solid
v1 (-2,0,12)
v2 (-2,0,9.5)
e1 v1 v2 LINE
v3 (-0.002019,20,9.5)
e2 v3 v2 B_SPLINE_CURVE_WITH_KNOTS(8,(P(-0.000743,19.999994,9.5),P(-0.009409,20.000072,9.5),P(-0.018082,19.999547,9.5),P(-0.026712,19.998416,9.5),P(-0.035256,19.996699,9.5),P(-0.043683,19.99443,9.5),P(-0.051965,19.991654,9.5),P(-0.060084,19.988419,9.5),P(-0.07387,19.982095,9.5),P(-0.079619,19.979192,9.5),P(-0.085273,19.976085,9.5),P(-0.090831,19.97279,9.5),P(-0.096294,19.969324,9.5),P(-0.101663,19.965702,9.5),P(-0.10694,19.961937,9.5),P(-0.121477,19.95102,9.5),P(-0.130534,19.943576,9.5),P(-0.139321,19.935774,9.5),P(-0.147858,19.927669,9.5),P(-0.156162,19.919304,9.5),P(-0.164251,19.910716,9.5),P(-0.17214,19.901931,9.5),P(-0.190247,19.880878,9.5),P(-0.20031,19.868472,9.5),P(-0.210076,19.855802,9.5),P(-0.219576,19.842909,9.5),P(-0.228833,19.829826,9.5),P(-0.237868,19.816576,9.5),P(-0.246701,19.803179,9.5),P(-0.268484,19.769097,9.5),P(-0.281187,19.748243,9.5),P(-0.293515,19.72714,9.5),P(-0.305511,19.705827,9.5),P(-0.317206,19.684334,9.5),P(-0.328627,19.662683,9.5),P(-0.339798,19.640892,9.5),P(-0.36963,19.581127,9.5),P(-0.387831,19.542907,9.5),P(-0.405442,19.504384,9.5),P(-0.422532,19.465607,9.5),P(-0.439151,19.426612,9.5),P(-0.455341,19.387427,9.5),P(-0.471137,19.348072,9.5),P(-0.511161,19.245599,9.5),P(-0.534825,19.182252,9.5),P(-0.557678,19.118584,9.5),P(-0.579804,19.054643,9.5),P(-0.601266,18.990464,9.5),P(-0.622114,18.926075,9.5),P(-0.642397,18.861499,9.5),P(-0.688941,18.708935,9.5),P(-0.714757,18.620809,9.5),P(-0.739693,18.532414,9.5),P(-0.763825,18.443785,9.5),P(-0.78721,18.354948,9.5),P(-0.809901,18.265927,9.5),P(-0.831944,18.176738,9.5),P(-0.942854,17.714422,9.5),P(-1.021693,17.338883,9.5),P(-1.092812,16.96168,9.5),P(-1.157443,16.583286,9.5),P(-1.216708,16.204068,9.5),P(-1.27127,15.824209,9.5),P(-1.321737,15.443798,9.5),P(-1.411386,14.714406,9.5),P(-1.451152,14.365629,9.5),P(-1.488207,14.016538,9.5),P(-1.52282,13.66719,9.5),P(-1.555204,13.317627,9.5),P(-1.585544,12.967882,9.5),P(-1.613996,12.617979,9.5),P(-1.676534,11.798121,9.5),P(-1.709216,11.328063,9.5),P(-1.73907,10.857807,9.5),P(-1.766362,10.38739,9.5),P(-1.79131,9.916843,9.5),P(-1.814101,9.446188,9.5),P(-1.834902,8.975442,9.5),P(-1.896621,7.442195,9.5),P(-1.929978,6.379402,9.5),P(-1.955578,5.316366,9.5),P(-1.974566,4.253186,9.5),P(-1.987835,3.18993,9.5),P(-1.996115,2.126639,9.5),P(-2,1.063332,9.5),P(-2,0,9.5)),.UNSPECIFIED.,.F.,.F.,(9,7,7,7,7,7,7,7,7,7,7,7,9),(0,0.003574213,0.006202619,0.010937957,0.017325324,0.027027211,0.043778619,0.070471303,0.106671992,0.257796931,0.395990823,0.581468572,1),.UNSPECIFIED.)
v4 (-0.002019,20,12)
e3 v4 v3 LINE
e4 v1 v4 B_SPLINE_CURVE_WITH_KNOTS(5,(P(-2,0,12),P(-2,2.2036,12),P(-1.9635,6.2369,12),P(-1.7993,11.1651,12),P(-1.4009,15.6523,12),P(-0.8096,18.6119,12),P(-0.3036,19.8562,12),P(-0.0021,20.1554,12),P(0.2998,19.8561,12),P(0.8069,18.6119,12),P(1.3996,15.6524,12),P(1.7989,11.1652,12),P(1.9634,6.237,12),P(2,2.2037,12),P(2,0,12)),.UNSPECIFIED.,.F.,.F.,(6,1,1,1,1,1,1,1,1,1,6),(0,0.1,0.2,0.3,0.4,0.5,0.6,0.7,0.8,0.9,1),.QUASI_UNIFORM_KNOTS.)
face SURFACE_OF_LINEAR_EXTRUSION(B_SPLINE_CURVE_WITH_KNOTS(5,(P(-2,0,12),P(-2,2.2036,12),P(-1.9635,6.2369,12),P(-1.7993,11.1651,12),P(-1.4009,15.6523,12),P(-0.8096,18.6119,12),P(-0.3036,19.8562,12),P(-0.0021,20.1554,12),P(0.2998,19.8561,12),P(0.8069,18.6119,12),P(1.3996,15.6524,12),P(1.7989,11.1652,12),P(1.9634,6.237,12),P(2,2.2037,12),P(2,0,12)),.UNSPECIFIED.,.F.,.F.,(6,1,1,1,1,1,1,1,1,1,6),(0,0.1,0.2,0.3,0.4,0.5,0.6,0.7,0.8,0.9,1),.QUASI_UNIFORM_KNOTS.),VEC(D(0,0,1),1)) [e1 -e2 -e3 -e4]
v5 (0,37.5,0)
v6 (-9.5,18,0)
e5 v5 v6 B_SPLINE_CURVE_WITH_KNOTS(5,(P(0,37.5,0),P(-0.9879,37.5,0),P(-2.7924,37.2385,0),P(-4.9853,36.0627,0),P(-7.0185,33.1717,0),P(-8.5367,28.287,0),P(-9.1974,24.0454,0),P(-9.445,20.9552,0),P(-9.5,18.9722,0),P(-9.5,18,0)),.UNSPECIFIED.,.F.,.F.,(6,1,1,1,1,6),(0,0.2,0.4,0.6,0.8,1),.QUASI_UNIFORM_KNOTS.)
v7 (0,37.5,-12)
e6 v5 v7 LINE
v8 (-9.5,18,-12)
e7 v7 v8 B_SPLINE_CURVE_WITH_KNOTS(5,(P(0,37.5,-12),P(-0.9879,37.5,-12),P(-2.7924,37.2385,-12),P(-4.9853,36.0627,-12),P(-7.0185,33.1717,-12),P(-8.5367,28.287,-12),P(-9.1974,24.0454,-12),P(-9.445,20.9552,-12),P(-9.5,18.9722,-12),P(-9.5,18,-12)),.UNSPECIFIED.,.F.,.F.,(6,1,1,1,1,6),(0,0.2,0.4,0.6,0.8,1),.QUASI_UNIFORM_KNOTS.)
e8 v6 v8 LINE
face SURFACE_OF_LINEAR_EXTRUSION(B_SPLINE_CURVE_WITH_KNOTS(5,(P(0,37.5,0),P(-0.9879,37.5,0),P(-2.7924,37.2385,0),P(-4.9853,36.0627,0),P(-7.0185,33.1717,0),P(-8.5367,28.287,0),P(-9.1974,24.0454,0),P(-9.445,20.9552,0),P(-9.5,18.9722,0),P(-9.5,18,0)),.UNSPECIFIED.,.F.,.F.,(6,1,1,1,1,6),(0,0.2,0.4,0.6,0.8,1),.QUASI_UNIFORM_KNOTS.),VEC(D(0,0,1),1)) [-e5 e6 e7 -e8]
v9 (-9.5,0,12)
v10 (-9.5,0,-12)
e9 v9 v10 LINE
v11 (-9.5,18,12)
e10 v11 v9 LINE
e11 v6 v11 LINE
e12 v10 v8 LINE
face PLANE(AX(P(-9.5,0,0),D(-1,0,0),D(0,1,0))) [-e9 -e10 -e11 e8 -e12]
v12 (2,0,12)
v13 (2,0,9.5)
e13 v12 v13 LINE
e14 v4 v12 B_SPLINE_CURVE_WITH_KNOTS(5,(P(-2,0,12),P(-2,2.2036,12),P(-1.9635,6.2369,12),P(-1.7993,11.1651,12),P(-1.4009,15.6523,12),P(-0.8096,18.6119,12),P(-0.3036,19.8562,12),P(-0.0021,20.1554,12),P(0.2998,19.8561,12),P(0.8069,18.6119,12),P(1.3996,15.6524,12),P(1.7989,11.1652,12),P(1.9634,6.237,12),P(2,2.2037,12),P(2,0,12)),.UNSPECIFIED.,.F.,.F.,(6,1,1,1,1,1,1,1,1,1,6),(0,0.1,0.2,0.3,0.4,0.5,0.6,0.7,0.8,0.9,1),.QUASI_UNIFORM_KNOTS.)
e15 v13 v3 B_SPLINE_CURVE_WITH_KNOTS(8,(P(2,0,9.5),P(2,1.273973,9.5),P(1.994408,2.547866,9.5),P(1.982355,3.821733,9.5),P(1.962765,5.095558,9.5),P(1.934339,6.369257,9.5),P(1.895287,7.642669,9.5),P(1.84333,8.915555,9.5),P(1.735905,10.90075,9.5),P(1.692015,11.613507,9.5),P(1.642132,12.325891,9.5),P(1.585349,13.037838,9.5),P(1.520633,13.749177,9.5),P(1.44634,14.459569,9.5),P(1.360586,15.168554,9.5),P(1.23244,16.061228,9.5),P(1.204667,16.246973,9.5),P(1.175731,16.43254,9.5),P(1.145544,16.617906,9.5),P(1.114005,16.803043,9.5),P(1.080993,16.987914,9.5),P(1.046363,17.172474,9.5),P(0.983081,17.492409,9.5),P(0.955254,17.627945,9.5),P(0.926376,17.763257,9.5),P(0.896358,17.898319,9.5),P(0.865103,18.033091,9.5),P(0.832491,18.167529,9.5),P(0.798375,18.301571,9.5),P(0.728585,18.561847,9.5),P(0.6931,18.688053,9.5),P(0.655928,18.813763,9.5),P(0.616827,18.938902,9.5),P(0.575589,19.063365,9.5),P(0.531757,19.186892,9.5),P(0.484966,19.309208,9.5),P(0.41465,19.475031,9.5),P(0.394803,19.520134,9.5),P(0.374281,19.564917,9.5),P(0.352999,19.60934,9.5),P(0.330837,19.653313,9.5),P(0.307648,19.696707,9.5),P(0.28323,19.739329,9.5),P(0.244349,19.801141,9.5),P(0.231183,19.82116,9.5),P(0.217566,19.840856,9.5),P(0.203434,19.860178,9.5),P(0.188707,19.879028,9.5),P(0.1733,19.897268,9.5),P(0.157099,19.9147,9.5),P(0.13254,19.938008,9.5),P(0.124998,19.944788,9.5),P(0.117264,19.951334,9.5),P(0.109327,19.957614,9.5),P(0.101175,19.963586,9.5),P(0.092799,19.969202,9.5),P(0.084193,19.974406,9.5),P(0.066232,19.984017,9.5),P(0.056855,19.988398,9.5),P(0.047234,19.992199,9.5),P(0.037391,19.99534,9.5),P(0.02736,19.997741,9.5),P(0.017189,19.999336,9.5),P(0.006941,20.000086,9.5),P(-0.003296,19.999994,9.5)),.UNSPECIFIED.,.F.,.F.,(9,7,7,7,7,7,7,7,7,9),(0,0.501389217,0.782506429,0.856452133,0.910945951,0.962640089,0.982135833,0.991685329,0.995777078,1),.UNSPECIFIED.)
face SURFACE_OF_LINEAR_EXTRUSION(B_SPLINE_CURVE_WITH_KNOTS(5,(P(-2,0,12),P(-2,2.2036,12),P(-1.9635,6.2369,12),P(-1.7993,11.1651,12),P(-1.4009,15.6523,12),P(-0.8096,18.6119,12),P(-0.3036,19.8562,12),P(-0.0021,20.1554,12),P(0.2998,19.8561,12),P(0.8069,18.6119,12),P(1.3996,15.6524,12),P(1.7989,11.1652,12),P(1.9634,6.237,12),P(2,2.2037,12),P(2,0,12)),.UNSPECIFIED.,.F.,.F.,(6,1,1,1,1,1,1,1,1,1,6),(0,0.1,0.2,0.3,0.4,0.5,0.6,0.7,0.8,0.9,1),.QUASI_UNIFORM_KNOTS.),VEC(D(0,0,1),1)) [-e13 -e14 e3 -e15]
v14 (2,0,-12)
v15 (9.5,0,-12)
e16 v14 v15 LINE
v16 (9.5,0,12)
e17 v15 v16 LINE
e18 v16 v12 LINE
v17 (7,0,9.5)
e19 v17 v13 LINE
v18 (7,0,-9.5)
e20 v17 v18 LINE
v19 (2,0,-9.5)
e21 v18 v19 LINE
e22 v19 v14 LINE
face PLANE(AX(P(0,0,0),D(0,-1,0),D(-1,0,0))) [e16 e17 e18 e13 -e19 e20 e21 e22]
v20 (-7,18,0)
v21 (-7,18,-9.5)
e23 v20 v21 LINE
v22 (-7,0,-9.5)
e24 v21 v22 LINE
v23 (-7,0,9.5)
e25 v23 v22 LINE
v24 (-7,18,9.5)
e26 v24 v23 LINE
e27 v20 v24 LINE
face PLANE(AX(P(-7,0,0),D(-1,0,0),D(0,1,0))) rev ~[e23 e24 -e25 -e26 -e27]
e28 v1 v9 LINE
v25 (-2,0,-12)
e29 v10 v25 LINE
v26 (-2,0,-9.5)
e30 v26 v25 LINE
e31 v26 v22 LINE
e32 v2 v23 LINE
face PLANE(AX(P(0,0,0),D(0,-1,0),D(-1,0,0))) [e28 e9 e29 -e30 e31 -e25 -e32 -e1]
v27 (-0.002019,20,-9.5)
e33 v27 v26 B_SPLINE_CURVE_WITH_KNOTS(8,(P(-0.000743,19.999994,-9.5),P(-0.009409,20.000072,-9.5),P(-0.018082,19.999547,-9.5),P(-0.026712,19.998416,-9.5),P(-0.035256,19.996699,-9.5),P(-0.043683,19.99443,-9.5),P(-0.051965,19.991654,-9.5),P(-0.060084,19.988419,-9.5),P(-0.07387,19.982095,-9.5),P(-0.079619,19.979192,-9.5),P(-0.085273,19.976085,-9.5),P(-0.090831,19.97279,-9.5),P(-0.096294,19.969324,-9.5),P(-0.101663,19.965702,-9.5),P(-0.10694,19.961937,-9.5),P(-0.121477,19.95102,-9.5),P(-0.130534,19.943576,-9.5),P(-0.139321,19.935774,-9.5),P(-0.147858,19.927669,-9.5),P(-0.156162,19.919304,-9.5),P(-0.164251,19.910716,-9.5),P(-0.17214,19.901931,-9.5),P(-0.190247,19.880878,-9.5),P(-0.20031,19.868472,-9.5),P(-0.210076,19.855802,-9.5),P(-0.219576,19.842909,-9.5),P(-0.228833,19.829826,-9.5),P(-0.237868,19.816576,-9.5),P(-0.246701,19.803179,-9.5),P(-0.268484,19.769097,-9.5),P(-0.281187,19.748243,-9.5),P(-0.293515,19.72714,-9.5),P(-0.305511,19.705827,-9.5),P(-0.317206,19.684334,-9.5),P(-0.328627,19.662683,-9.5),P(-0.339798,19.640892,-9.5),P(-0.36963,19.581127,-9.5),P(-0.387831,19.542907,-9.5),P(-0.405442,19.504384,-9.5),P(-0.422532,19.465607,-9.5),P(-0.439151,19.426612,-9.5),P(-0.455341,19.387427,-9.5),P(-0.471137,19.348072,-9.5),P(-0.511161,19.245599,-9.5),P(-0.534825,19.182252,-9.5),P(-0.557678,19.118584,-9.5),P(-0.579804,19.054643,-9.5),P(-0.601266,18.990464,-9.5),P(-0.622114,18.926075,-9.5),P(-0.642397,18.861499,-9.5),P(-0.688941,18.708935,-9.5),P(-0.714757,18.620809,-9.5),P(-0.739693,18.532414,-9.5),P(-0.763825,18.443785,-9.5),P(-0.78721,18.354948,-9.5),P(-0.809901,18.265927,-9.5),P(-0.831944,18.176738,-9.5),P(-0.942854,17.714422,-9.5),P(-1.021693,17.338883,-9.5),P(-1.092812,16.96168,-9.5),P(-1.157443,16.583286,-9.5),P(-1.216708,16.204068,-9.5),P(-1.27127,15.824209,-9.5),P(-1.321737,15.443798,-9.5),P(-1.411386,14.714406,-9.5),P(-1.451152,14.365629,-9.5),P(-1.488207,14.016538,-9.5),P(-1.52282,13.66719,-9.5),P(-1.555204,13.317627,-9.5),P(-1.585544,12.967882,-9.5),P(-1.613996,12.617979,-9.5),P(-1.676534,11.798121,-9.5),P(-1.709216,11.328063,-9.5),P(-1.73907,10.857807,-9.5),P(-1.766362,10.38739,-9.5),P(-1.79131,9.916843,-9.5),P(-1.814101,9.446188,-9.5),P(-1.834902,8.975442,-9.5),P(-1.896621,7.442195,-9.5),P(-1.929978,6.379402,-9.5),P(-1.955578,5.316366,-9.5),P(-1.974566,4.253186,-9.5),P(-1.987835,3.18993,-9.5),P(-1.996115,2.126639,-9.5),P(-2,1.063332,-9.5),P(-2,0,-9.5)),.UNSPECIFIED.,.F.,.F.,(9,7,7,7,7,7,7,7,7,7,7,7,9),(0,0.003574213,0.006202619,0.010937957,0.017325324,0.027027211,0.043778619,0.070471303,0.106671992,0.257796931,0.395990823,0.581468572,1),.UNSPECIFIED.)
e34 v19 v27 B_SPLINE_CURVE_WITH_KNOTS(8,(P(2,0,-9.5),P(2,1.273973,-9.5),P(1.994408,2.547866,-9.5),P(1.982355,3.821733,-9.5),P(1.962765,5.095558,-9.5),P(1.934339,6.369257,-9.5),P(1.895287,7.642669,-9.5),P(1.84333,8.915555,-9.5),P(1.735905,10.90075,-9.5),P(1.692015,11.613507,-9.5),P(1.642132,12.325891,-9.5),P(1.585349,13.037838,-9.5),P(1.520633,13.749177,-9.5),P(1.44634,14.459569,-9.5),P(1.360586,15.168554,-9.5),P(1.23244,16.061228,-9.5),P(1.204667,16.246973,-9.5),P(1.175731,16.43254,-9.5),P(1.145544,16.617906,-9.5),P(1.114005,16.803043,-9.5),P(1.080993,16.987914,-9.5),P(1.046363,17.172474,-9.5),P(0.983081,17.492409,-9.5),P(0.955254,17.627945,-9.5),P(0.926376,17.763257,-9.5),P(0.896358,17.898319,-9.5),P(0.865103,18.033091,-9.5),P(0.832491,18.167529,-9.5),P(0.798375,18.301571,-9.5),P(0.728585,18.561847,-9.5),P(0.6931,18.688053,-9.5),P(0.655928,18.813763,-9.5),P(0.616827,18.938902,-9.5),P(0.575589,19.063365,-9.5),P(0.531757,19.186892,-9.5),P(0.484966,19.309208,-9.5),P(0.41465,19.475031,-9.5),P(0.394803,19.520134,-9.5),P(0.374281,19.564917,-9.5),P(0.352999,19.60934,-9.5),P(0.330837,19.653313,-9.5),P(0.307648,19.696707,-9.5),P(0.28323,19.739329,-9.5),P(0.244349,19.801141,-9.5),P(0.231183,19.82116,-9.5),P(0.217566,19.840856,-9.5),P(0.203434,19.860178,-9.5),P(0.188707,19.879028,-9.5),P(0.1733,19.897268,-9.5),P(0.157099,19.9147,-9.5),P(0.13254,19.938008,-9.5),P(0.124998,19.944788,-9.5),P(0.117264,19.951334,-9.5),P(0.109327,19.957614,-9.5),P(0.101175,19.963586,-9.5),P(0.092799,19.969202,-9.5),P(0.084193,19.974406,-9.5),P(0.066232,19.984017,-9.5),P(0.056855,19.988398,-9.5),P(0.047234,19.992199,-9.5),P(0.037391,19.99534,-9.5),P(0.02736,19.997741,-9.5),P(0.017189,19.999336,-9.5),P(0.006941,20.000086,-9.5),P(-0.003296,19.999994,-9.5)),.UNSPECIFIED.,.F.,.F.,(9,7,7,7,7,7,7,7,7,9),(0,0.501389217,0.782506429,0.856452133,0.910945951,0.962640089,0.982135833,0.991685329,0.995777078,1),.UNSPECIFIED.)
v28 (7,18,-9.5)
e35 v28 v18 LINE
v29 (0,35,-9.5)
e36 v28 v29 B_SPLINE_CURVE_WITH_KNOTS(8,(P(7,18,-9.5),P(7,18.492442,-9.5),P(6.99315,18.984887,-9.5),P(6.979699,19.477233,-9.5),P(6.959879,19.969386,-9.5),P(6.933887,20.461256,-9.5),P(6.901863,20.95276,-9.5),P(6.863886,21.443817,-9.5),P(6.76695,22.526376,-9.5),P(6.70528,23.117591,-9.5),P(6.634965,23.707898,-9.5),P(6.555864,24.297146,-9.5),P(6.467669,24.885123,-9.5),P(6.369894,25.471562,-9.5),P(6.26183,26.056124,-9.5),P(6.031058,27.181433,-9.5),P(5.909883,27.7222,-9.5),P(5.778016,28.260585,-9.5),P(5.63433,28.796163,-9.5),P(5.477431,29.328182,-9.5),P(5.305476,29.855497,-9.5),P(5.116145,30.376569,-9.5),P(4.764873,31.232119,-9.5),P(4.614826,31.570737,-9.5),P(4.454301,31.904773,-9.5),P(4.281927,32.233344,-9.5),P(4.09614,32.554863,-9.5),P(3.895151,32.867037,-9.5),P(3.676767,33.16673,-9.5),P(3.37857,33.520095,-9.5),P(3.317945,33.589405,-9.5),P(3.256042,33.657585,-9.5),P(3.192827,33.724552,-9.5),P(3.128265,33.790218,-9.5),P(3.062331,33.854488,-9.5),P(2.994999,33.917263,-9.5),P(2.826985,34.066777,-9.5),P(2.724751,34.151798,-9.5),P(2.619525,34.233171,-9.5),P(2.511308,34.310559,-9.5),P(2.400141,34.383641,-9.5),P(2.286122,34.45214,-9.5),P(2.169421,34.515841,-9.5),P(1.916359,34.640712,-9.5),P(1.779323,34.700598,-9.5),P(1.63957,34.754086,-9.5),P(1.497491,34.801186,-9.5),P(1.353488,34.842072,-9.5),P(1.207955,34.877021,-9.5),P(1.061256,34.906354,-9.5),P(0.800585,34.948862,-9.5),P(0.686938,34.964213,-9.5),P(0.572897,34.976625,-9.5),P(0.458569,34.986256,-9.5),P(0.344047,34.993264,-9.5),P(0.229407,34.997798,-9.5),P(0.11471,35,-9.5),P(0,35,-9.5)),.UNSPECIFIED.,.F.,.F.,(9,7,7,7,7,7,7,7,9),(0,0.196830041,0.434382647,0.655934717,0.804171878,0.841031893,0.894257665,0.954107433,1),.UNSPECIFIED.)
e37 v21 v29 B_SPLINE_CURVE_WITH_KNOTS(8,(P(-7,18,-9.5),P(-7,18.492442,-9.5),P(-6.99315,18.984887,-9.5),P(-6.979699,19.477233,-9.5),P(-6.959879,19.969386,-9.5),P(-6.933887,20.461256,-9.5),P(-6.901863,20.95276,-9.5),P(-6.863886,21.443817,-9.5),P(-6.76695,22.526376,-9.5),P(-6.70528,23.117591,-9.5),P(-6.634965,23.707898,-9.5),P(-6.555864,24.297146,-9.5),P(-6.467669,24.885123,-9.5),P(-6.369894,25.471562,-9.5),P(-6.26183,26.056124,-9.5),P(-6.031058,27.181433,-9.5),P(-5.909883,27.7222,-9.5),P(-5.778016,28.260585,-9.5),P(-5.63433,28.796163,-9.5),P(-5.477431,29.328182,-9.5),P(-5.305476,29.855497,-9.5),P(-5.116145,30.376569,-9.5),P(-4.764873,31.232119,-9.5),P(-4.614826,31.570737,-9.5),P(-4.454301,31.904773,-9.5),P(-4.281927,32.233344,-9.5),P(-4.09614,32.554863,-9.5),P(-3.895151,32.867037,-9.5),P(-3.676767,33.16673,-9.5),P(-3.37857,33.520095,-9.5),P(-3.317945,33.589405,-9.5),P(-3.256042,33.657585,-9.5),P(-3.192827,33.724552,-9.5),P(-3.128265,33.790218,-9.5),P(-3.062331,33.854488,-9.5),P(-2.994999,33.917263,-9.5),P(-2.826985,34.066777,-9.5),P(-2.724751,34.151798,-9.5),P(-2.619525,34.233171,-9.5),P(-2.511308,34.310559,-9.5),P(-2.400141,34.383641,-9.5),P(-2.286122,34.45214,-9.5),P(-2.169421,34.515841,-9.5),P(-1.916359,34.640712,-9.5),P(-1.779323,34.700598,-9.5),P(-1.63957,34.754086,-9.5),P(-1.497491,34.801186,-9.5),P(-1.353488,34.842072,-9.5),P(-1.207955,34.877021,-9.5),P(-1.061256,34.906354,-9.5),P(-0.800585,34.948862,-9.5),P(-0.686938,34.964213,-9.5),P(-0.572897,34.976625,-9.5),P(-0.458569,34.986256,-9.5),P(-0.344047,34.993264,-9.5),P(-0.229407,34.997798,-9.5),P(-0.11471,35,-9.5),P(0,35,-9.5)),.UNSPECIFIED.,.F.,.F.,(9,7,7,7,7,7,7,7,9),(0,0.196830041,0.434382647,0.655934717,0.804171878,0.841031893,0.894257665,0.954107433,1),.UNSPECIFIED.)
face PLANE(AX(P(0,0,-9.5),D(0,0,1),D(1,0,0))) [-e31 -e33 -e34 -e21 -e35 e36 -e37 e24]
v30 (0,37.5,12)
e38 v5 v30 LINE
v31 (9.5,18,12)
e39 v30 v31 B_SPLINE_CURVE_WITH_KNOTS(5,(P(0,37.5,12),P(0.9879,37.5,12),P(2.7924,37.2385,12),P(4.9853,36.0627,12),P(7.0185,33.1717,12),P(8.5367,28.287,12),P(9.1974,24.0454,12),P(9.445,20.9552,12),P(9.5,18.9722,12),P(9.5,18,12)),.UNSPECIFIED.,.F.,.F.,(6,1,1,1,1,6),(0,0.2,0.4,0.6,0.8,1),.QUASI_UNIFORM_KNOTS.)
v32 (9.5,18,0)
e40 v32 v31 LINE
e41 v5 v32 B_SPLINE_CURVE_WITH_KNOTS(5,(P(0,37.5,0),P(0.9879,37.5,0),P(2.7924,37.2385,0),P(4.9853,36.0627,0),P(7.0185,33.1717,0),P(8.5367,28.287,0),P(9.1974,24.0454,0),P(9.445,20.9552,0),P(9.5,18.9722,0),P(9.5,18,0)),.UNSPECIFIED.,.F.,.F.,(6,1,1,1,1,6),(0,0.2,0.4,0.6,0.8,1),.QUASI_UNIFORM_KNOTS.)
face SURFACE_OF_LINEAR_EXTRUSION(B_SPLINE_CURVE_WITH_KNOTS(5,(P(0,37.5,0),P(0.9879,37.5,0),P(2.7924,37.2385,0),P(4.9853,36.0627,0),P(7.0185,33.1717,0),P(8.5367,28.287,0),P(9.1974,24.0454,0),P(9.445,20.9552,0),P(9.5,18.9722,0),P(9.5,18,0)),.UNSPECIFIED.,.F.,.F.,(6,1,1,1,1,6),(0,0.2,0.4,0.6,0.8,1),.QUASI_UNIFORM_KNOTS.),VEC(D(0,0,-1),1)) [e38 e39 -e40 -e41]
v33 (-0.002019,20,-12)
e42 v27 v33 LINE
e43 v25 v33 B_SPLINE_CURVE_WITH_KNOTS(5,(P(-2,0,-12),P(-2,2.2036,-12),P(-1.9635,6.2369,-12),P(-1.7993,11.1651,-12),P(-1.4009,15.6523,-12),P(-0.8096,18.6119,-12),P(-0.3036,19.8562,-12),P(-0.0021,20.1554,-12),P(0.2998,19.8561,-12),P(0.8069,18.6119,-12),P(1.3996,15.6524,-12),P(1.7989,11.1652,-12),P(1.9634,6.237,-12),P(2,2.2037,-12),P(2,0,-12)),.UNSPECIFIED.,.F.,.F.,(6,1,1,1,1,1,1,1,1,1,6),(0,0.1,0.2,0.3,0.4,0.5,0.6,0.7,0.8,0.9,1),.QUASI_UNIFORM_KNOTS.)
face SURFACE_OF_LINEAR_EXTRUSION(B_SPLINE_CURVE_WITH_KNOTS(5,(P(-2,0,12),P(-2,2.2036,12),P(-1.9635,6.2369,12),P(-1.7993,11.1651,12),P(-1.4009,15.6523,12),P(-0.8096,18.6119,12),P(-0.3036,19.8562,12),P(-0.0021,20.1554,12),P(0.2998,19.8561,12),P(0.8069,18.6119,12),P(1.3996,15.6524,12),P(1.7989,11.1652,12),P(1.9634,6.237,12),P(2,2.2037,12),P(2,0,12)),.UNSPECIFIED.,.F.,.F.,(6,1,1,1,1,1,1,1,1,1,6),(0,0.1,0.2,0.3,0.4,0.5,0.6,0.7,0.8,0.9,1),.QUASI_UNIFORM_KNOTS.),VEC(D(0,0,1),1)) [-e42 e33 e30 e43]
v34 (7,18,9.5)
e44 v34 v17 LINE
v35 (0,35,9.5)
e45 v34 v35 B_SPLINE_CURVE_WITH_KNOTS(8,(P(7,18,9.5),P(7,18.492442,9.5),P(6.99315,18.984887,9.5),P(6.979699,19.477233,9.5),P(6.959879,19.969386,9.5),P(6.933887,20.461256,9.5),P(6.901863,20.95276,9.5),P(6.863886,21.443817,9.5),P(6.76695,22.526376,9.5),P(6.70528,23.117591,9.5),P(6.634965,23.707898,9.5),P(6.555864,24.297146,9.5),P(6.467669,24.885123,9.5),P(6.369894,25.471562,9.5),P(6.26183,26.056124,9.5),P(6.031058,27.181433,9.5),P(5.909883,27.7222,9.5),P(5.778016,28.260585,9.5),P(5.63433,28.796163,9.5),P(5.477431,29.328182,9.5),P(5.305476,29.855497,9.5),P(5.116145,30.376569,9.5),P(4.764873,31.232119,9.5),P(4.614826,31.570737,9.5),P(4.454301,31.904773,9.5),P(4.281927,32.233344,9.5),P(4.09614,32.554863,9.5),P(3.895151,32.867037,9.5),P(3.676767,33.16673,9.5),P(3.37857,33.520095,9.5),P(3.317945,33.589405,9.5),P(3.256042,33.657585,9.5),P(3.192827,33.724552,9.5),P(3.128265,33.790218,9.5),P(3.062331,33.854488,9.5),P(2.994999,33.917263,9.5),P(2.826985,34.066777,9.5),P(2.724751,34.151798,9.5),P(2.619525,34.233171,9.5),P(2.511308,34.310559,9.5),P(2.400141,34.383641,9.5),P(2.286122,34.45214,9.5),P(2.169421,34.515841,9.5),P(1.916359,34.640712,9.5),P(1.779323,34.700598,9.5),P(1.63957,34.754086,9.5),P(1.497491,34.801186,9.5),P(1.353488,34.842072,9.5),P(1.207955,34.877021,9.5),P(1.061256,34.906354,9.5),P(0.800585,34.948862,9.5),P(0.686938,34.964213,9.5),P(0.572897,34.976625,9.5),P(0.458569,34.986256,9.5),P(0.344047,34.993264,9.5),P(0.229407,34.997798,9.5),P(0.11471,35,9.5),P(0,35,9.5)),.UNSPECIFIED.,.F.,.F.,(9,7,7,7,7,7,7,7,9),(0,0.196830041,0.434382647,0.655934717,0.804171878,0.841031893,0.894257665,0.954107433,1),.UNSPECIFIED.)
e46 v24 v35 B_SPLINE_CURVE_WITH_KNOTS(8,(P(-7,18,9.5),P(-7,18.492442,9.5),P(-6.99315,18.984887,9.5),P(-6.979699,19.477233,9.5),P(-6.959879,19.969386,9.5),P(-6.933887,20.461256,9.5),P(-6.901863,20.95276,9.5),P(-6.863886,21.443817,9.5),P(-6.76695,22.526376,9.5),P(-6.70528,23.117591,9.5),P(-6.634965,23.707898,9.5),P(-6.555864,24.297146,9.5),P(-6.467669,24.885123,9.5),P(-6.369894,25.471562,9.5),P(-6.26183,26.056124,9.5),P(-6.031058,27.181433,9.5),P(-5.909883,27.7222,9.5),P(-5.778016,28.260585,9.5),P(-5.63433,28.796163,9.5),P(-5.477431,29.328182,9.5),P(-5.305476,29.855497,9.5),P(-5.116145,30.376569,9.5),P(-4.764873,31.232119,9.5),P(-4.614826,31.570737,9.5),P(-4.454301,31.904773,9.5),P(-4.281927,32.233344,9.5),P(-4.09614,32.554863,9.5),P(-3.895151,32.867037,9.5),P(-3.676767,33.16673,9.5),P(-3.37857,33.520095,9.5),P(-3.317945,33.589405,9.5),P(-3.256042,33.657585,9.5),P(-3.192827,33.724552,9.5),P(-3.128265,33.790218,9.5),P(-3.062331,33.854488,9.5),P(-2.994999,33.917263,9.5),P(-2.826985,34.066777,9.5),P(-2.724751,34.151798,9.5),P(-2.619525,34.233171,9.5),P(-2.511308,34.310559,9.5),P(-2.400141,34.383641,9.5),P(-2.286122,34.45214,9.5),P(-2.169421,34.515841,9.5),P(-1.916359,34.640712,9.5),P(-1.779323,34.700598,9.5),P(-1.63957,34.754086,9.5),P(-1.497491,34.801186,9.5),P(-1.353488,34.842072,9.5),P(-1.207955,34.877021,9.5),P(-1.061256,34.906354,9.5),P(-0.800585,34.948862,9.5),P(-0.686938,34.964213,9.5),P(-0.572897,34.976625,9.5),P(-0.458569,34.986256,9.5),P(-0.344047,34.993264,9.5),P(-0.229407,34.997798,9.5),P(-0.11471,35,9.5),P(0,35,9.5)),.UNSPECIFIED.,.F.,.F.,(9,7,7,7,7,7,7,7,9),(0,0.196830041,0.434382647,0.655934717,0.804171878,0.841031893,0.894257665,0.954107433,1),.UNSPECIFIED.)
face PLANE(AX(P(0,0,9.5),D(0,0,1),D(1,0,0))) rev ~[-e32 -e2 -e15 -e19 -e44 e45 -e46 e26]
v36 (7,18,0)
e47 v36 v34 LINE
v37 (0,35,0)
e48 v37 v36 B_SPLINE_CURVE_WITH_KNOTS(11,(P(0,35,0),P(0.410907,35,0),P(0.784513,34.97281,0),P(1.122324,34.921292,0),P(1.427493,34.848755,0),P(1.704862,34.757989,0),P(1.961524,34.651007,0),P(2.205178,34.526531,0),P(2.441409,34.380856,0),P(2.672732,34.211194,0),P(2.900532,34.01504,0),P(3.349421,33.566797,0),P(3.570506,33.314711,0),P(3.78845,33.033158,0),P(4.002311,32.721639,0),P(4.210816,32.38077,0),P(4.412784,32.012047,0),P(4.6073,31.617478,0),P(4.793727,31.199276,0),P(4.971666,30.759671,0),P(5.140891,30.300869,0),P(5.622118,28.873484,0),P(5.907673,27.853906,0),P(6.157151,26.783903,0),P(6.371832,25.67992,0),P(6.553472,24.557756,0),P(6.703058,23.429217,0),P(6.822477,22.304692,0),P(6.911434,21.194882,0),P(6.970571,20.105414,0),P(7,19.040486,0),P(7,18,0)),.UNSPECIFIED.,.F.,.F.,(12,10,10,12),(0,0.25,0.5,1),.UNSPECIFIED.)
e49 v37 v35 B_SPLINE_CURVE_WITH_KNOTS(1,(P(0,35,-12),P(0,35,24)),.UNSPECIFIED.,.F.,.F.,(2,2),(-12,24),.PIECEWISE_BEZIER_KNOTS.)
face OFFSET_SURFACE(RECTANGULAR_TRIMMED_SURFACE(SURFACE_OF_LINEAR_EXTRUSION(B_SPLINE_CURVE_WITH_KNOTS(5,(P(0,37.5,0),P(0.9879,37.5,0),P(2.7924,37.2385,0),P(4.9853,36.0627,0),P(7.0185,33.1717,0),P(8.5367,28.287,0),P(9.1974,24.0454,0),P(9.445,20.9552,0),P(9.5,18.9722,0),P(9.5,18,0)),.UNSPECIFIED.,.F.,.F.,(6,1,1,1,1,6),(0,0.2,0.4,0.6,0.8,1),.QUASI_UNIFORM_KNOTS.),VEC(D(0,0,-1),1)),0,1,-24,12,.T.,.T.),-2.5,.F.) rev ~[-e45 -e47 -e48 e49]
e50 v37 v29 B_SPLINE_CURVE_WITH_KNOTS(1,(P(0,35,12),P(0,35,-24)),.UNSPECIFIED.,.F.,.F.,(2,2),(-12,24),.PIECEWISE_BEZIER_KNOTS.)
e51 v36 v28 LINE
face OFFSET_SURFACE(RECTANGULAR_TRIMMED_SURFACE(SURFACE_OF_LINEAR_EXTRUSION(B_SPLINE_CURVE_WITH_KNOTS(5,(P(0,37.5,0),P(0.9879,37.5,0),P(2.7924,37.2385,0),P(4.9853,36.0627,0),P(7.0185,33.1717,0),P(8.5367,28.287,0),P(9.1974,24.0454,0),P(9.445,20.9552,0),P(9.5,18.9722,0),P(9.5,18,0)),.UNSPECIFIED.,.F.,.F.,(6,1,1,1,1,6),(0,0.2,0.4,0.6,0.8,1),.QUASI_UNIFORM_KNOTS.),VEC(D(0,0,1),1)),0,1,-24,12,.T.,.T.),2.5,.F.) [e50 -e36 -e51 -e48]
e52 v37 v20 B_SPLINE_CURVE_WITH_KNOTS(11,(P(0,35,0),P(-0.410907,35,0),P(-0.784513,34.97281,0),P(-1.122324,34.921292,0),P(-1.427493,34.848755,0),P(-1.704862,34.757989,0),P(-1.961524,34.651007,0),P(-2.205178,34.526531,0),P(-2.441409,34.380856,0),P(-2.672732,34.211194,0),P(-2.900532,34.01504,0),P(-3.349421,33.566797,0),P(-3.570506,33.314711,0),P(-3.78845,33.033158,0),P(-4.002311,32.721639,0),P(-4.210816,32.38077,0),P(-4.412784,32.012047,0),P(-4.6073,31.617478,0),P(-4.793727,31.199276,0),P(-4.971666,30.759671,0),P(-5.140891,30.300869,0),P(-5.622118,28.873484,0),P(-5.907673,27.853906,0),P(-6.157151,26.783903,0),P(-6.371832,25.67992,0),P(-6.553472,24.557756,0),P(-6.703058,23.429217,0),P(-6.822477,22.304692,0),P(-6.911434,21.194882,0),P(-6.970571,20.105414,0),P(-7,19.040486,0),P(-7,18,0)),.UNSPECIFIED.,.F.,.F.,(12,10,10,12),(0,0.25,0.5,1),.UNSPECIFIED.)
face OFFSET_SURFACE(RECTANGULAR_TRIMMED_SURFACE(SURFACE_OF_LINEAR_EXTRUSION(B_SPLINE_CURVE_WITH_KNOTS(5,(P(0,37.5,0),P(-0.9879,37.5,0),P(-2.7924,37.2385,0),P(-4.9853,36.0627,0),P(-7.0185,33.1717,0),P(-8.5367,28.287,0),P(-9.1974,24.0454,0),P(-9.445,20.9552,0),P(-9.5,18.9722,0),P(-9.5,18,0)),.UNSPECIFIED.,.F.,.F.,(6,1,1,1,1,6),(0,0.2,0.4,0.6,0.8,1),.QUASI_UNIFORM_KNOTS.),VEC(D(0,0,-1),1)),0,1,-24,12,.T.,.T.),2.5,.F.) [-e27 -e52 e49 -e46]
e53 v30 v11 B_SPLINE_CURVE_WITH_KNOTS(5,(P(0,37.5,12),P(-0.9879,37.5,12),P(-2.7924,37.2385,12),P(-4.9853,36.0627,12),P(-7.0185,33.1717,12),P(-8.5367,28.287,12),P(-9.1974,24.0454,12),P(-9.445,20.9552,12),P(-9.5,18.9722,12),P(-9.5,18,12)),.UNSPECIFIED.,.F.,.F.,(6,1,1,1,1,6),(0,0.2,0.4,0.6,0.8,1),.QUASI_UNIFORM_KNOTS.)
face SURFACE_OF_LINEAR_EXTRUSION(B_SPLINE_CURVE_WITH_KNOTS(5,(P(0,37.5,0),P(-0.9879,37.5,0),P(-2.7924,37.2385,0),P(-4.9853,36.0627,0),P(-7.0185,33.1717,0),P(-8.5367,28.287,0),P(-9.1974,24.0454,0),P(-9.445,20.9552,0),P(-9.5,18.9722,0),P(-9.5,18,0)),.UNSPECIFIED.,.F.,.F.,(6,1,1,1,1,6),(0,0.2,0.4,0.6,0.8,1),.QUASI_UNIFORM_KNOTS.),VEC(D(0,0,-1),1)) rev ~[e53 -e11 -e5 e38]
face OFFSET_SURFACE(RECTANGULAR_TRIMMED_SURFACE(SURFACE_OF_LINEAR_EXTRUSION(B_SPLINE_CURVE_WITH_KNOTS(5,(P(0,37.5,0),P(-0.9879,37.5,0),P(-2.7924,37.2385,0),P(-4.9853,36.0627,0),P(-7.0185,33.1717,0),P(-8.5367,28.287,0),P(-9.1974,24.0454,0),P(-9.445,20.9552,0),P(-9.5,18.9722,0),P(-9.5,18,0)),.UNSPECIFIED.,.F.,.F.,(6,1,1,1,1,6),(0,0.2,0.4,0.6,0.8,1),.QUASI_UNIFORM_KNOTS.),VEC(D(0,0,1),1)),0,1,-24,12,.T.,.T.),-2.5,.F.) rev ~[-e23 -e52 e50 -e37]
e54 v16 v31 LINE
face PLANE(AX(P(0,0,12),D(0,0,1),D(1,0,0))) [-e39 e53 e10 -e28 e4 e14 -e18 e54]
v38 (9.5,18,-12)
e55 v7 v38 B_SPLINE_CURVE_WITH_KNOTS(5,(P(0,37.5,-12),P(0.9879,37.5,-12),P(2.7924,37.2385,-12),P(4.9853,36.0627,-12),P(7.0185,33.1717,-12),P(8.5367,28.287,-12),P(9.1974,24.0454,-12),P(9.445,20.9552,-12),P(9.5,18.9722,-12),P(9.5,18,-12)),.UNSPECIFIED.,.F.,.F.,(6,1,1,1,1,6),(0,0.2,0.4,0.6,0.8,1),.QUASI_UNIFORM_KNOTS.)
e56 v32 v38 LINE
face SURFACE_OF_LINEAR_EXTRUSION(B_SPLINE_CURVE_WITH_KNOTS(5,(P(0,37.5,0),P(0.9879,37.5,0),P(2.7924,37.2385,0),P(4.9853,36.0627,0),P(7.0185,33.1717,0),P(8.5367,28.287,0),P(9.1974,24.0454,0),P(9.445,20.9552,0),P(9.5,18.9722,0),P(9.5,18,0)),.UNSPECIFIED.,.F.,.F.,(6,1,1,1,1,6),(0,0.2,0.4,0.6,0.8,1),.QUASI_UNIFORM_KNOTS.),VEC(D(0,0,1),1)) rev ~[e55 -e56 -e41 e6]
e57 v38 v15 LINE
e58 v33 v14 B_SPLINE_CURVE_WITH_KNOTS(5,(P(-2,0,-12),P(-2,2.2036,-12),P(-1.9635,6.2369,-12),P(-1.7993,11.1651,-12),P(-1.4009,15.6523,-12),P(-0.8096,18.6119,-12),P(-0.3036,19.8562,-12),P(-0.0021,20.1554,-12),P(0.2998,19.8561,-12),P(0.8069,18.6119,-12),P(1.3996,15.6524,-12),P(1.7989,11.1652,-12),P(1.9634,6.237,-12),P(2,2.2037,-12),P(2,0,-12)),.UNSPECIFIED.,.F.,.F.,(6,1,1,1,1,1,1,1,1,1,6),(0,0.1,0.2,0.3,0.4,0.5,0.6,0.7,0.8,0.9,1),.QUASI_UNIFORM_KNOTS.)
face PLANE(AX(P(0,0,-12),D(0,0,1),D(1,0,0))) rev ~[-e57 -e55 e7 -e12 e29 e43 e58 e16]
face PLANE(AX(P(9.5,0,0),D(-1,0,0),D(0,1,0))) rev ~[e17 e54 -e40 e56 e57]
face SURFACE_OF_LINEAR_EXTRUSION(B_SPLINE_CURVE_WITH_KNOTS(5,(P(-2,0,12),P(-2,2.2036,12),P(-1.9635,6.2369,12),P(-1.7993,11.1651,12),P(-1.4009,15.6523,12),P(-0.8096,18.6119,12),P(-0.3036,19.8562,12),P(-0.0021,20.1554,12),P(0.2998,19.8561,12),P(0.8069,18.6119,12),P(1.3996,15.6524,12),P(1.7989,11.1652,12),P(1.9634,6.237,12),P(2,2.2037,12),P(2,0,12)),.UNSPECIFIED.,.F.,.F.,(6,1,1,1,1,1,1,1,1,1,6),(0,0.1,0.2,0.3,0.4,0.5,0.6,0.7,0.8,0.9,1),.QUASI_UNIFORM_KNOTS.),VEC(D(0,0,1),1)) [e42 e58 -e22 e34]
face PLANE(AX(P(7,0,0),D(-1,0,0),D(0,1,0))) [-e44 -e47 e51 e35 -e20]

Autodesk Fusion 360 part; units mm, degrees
sketch "Skizze1" plane through (0, 0, 0) normal (0, 0, 1) x (1, 0, 0)
  line L0 (0, 0) -> (0, 35)
  line L1 (7, 0) -> (9.5, 0)
  line L2 (9.5, 0) -> (9.5, 18)
  line L3 (9.5, 18) -> (7, 18) construction
  line L4 (7, 18) -> (7, 0)
  spline S0 degree 5 poles (0, 35) (0.73, 35) (2.063, 34.7613) (3.6816, 33.688) (5.1796, 31.0566) (6.2948, 26.6703) (6.7786, 22.9675) (6.9597, 20.3756) (7, 18.7712) (7, 18) knots 0 0 0 0 0 0 0.2 0.4 0.6 0.8 1 1 1 1 1 1
  spline S1 degree 5 poles (0, 37.5) (0.9879, 37.5) (2.7924, 37.2385) (4.9853, 36.0627) (7.0185, 33.1717) (8.5367, 28.287) (9.1974, 24.0454) (9.445, 20.9552) (9.5, 18.9722) (9.5, 18) knots 0 0 0 0 0 0 0.2 0.4 0.6 0.8 1 1 1 1 1 1
  line L5 (0, 37.5) -> (0, 35)
  line L6 (-2.5, 37.5) -> (2.5, 37.5)
  line L7 (-1.5, 35) -> (1.5, 35)
  line L8 (7, 20) -> (7, 16)
  line L9 (9.5, 21) -> (9.5, 15)
  line L10 (0, 0) -> (7, 0)
  circle A0 centre (0, 16) radius 1
  line L11 (1, 16) -> (1, 0)
  line L12 (0, 0) -> (0, -5) construction
  line L13 (0, 37.5) -> (0, 35)
  line L14 (-1, 16) -> (-1, 0)
  line L15 (-7, 20) -> (-7, 16)
  circle A1 centre (0, 16) radius 1
  spline S2 degree 5 poles (0, 37.5) (-0.9879, 37.5) (-2.7924, 37.2385) (-4.9853, 36.0627) (-7.0185, 33.1717) (-8.5367, 28.287) (-9.1974, 24.0454) (-9.445, 20.9552) (-9.5, 18.9722) (-9.5, 18) knots 0 0 0 0 0 0 0.2 0.4 0.6 0.8 1 1 1 1 1 1
  line L16 (2.5, 37.5) -> (-2.5, 37.5)
  line L17 (-9.5, 21) -> (-9.5, 15)
  line L18 (-9.5, 21) -> (-9.5, 15)
  line L19 (0, 0) -> (-7, 0)
  line L20 (-9.5, 0) -> (-9.5, 18)
  line L21 (-9.5, 18) -> (-7, 18) construction
  spline S3 degree 5 poles (0, 35) (-0.73, 35) (-2.063, 34.7613) (-3.6816, 33.688) (-5.1796, 31.0566) (-6.2948, 26.6703) (-6.7786, 22.9675) (-6.9597, 20.3756) (-7, 18.7712) (-7, 18) knots 0 0 0 0 0 0 0.2 0.4 0.6 0.8 1 1 1 1 1 1
  line L22 (1.5, 35) -> (-1.5, 35)
  line L23 (-7, 20) -> (-7, 16)
  line L24 (-7, 0) -> (-9.5, 0)
  line L25 (-7, 18) -> (-7, 0)
  line L26 (0, 0) -> (0, 35)
  line L27 (1.5, 35) -> (-1.5, 35)
  line L28 (2.5, 37.5) -> (-2.5, 37.5)
  dimension "d1" = 18
  dimension "d2" = 5
  dimension "d3" = 3
  dimension "d4" = 4
  dimension "d5" = 6
  dimension "d6" = 7
  dimension "d7" = 35
  dimension "d8" = 2.5
  dimension "d9" = 16
  dimension "d10" = 2
extrude "Extrusion1" add sketch "Skizze1" along normal mid plane 24
shell "Schale1" thickness 2.5 removed faces 1 at (3.1667, 0, 4)
sketch "Skizze2" plane through (0, 0, 12) normal (0, 0, 1) x (1, 0, 0)
  line L0 (-9.5, 0) -> (9.5, 0)
  line L1 (9.5, 0) -> (9.5, 18)
  spline S0 degree 5 poles (9.5, 18) (9.5, 18.9722) (9.445, 20.9552) (9.1974, 24.0454) (8.5367, 28.287) (7.0185, 33.1717) (4.9853, 36.0627) (2.7924, 37.2385) (0.9879, 37.5) (0, 37.5) knots -1 -1 -1 -1 -1 -1 -0.8 -0.6 -0.4 -0.2 0 0 0 0 0 0
  spline S1 degree 5 poles (0, 37.5) (-0.9879, 37.5) (-2.7924, 37.2385) (-4.9853, 36.0627) (-7.0185, 33.1717) (-8.5367, 28.287) (-9.1974, 24.0454) (-9.445, 20.9552) (-9.5, 18.9722) (-9.5, 18) knots 0 0 0 0 0 0 0.2 0.4 0.6 0.8 1 1 1 1 1 1
  line L2 (-9.5, 18) -> (-9.5, 0)
  spline S2 degree 5 poles (-2, 0) (-2, 2.2036) (-1.9635, 6.2369) (-1.7993, 11.1651) (-1.4009, 15.6523) (-0.8096, 18.6119) (-0.3036, 19.8562) (-0.0021, 20.1554) (0.2998, 19.8561) (0.8069, 18.6119) (1.3996, 15.6524) (1.7989, 11.1652) (1.9634, 6.237) (2, 2.2037) (2, 0) knots 0 0 0 0 0 0 0.1 0.2 0.3 0.4 0.5 0.6 0.7 0.8 0.9 1 1 1 1 1 1
  line L3 (0, 0) -> (-0.002, 20) construction
  line L4 (-0.102, 20) -> (0.098, 20)
  line L5 (2, 5) -> (2, -5)
  line L6 (-2, -5) -> (-2, 5)
  point P0 (-0.002, 20)
  dimension "d14" = 4
  dimension "d15" = 10
  dimension "d16" = 0.2
  dimension "d17" = 20
extrude "Extrusion2" cut sketch "Skizze2" against normal blind 24 contours L0 S2
